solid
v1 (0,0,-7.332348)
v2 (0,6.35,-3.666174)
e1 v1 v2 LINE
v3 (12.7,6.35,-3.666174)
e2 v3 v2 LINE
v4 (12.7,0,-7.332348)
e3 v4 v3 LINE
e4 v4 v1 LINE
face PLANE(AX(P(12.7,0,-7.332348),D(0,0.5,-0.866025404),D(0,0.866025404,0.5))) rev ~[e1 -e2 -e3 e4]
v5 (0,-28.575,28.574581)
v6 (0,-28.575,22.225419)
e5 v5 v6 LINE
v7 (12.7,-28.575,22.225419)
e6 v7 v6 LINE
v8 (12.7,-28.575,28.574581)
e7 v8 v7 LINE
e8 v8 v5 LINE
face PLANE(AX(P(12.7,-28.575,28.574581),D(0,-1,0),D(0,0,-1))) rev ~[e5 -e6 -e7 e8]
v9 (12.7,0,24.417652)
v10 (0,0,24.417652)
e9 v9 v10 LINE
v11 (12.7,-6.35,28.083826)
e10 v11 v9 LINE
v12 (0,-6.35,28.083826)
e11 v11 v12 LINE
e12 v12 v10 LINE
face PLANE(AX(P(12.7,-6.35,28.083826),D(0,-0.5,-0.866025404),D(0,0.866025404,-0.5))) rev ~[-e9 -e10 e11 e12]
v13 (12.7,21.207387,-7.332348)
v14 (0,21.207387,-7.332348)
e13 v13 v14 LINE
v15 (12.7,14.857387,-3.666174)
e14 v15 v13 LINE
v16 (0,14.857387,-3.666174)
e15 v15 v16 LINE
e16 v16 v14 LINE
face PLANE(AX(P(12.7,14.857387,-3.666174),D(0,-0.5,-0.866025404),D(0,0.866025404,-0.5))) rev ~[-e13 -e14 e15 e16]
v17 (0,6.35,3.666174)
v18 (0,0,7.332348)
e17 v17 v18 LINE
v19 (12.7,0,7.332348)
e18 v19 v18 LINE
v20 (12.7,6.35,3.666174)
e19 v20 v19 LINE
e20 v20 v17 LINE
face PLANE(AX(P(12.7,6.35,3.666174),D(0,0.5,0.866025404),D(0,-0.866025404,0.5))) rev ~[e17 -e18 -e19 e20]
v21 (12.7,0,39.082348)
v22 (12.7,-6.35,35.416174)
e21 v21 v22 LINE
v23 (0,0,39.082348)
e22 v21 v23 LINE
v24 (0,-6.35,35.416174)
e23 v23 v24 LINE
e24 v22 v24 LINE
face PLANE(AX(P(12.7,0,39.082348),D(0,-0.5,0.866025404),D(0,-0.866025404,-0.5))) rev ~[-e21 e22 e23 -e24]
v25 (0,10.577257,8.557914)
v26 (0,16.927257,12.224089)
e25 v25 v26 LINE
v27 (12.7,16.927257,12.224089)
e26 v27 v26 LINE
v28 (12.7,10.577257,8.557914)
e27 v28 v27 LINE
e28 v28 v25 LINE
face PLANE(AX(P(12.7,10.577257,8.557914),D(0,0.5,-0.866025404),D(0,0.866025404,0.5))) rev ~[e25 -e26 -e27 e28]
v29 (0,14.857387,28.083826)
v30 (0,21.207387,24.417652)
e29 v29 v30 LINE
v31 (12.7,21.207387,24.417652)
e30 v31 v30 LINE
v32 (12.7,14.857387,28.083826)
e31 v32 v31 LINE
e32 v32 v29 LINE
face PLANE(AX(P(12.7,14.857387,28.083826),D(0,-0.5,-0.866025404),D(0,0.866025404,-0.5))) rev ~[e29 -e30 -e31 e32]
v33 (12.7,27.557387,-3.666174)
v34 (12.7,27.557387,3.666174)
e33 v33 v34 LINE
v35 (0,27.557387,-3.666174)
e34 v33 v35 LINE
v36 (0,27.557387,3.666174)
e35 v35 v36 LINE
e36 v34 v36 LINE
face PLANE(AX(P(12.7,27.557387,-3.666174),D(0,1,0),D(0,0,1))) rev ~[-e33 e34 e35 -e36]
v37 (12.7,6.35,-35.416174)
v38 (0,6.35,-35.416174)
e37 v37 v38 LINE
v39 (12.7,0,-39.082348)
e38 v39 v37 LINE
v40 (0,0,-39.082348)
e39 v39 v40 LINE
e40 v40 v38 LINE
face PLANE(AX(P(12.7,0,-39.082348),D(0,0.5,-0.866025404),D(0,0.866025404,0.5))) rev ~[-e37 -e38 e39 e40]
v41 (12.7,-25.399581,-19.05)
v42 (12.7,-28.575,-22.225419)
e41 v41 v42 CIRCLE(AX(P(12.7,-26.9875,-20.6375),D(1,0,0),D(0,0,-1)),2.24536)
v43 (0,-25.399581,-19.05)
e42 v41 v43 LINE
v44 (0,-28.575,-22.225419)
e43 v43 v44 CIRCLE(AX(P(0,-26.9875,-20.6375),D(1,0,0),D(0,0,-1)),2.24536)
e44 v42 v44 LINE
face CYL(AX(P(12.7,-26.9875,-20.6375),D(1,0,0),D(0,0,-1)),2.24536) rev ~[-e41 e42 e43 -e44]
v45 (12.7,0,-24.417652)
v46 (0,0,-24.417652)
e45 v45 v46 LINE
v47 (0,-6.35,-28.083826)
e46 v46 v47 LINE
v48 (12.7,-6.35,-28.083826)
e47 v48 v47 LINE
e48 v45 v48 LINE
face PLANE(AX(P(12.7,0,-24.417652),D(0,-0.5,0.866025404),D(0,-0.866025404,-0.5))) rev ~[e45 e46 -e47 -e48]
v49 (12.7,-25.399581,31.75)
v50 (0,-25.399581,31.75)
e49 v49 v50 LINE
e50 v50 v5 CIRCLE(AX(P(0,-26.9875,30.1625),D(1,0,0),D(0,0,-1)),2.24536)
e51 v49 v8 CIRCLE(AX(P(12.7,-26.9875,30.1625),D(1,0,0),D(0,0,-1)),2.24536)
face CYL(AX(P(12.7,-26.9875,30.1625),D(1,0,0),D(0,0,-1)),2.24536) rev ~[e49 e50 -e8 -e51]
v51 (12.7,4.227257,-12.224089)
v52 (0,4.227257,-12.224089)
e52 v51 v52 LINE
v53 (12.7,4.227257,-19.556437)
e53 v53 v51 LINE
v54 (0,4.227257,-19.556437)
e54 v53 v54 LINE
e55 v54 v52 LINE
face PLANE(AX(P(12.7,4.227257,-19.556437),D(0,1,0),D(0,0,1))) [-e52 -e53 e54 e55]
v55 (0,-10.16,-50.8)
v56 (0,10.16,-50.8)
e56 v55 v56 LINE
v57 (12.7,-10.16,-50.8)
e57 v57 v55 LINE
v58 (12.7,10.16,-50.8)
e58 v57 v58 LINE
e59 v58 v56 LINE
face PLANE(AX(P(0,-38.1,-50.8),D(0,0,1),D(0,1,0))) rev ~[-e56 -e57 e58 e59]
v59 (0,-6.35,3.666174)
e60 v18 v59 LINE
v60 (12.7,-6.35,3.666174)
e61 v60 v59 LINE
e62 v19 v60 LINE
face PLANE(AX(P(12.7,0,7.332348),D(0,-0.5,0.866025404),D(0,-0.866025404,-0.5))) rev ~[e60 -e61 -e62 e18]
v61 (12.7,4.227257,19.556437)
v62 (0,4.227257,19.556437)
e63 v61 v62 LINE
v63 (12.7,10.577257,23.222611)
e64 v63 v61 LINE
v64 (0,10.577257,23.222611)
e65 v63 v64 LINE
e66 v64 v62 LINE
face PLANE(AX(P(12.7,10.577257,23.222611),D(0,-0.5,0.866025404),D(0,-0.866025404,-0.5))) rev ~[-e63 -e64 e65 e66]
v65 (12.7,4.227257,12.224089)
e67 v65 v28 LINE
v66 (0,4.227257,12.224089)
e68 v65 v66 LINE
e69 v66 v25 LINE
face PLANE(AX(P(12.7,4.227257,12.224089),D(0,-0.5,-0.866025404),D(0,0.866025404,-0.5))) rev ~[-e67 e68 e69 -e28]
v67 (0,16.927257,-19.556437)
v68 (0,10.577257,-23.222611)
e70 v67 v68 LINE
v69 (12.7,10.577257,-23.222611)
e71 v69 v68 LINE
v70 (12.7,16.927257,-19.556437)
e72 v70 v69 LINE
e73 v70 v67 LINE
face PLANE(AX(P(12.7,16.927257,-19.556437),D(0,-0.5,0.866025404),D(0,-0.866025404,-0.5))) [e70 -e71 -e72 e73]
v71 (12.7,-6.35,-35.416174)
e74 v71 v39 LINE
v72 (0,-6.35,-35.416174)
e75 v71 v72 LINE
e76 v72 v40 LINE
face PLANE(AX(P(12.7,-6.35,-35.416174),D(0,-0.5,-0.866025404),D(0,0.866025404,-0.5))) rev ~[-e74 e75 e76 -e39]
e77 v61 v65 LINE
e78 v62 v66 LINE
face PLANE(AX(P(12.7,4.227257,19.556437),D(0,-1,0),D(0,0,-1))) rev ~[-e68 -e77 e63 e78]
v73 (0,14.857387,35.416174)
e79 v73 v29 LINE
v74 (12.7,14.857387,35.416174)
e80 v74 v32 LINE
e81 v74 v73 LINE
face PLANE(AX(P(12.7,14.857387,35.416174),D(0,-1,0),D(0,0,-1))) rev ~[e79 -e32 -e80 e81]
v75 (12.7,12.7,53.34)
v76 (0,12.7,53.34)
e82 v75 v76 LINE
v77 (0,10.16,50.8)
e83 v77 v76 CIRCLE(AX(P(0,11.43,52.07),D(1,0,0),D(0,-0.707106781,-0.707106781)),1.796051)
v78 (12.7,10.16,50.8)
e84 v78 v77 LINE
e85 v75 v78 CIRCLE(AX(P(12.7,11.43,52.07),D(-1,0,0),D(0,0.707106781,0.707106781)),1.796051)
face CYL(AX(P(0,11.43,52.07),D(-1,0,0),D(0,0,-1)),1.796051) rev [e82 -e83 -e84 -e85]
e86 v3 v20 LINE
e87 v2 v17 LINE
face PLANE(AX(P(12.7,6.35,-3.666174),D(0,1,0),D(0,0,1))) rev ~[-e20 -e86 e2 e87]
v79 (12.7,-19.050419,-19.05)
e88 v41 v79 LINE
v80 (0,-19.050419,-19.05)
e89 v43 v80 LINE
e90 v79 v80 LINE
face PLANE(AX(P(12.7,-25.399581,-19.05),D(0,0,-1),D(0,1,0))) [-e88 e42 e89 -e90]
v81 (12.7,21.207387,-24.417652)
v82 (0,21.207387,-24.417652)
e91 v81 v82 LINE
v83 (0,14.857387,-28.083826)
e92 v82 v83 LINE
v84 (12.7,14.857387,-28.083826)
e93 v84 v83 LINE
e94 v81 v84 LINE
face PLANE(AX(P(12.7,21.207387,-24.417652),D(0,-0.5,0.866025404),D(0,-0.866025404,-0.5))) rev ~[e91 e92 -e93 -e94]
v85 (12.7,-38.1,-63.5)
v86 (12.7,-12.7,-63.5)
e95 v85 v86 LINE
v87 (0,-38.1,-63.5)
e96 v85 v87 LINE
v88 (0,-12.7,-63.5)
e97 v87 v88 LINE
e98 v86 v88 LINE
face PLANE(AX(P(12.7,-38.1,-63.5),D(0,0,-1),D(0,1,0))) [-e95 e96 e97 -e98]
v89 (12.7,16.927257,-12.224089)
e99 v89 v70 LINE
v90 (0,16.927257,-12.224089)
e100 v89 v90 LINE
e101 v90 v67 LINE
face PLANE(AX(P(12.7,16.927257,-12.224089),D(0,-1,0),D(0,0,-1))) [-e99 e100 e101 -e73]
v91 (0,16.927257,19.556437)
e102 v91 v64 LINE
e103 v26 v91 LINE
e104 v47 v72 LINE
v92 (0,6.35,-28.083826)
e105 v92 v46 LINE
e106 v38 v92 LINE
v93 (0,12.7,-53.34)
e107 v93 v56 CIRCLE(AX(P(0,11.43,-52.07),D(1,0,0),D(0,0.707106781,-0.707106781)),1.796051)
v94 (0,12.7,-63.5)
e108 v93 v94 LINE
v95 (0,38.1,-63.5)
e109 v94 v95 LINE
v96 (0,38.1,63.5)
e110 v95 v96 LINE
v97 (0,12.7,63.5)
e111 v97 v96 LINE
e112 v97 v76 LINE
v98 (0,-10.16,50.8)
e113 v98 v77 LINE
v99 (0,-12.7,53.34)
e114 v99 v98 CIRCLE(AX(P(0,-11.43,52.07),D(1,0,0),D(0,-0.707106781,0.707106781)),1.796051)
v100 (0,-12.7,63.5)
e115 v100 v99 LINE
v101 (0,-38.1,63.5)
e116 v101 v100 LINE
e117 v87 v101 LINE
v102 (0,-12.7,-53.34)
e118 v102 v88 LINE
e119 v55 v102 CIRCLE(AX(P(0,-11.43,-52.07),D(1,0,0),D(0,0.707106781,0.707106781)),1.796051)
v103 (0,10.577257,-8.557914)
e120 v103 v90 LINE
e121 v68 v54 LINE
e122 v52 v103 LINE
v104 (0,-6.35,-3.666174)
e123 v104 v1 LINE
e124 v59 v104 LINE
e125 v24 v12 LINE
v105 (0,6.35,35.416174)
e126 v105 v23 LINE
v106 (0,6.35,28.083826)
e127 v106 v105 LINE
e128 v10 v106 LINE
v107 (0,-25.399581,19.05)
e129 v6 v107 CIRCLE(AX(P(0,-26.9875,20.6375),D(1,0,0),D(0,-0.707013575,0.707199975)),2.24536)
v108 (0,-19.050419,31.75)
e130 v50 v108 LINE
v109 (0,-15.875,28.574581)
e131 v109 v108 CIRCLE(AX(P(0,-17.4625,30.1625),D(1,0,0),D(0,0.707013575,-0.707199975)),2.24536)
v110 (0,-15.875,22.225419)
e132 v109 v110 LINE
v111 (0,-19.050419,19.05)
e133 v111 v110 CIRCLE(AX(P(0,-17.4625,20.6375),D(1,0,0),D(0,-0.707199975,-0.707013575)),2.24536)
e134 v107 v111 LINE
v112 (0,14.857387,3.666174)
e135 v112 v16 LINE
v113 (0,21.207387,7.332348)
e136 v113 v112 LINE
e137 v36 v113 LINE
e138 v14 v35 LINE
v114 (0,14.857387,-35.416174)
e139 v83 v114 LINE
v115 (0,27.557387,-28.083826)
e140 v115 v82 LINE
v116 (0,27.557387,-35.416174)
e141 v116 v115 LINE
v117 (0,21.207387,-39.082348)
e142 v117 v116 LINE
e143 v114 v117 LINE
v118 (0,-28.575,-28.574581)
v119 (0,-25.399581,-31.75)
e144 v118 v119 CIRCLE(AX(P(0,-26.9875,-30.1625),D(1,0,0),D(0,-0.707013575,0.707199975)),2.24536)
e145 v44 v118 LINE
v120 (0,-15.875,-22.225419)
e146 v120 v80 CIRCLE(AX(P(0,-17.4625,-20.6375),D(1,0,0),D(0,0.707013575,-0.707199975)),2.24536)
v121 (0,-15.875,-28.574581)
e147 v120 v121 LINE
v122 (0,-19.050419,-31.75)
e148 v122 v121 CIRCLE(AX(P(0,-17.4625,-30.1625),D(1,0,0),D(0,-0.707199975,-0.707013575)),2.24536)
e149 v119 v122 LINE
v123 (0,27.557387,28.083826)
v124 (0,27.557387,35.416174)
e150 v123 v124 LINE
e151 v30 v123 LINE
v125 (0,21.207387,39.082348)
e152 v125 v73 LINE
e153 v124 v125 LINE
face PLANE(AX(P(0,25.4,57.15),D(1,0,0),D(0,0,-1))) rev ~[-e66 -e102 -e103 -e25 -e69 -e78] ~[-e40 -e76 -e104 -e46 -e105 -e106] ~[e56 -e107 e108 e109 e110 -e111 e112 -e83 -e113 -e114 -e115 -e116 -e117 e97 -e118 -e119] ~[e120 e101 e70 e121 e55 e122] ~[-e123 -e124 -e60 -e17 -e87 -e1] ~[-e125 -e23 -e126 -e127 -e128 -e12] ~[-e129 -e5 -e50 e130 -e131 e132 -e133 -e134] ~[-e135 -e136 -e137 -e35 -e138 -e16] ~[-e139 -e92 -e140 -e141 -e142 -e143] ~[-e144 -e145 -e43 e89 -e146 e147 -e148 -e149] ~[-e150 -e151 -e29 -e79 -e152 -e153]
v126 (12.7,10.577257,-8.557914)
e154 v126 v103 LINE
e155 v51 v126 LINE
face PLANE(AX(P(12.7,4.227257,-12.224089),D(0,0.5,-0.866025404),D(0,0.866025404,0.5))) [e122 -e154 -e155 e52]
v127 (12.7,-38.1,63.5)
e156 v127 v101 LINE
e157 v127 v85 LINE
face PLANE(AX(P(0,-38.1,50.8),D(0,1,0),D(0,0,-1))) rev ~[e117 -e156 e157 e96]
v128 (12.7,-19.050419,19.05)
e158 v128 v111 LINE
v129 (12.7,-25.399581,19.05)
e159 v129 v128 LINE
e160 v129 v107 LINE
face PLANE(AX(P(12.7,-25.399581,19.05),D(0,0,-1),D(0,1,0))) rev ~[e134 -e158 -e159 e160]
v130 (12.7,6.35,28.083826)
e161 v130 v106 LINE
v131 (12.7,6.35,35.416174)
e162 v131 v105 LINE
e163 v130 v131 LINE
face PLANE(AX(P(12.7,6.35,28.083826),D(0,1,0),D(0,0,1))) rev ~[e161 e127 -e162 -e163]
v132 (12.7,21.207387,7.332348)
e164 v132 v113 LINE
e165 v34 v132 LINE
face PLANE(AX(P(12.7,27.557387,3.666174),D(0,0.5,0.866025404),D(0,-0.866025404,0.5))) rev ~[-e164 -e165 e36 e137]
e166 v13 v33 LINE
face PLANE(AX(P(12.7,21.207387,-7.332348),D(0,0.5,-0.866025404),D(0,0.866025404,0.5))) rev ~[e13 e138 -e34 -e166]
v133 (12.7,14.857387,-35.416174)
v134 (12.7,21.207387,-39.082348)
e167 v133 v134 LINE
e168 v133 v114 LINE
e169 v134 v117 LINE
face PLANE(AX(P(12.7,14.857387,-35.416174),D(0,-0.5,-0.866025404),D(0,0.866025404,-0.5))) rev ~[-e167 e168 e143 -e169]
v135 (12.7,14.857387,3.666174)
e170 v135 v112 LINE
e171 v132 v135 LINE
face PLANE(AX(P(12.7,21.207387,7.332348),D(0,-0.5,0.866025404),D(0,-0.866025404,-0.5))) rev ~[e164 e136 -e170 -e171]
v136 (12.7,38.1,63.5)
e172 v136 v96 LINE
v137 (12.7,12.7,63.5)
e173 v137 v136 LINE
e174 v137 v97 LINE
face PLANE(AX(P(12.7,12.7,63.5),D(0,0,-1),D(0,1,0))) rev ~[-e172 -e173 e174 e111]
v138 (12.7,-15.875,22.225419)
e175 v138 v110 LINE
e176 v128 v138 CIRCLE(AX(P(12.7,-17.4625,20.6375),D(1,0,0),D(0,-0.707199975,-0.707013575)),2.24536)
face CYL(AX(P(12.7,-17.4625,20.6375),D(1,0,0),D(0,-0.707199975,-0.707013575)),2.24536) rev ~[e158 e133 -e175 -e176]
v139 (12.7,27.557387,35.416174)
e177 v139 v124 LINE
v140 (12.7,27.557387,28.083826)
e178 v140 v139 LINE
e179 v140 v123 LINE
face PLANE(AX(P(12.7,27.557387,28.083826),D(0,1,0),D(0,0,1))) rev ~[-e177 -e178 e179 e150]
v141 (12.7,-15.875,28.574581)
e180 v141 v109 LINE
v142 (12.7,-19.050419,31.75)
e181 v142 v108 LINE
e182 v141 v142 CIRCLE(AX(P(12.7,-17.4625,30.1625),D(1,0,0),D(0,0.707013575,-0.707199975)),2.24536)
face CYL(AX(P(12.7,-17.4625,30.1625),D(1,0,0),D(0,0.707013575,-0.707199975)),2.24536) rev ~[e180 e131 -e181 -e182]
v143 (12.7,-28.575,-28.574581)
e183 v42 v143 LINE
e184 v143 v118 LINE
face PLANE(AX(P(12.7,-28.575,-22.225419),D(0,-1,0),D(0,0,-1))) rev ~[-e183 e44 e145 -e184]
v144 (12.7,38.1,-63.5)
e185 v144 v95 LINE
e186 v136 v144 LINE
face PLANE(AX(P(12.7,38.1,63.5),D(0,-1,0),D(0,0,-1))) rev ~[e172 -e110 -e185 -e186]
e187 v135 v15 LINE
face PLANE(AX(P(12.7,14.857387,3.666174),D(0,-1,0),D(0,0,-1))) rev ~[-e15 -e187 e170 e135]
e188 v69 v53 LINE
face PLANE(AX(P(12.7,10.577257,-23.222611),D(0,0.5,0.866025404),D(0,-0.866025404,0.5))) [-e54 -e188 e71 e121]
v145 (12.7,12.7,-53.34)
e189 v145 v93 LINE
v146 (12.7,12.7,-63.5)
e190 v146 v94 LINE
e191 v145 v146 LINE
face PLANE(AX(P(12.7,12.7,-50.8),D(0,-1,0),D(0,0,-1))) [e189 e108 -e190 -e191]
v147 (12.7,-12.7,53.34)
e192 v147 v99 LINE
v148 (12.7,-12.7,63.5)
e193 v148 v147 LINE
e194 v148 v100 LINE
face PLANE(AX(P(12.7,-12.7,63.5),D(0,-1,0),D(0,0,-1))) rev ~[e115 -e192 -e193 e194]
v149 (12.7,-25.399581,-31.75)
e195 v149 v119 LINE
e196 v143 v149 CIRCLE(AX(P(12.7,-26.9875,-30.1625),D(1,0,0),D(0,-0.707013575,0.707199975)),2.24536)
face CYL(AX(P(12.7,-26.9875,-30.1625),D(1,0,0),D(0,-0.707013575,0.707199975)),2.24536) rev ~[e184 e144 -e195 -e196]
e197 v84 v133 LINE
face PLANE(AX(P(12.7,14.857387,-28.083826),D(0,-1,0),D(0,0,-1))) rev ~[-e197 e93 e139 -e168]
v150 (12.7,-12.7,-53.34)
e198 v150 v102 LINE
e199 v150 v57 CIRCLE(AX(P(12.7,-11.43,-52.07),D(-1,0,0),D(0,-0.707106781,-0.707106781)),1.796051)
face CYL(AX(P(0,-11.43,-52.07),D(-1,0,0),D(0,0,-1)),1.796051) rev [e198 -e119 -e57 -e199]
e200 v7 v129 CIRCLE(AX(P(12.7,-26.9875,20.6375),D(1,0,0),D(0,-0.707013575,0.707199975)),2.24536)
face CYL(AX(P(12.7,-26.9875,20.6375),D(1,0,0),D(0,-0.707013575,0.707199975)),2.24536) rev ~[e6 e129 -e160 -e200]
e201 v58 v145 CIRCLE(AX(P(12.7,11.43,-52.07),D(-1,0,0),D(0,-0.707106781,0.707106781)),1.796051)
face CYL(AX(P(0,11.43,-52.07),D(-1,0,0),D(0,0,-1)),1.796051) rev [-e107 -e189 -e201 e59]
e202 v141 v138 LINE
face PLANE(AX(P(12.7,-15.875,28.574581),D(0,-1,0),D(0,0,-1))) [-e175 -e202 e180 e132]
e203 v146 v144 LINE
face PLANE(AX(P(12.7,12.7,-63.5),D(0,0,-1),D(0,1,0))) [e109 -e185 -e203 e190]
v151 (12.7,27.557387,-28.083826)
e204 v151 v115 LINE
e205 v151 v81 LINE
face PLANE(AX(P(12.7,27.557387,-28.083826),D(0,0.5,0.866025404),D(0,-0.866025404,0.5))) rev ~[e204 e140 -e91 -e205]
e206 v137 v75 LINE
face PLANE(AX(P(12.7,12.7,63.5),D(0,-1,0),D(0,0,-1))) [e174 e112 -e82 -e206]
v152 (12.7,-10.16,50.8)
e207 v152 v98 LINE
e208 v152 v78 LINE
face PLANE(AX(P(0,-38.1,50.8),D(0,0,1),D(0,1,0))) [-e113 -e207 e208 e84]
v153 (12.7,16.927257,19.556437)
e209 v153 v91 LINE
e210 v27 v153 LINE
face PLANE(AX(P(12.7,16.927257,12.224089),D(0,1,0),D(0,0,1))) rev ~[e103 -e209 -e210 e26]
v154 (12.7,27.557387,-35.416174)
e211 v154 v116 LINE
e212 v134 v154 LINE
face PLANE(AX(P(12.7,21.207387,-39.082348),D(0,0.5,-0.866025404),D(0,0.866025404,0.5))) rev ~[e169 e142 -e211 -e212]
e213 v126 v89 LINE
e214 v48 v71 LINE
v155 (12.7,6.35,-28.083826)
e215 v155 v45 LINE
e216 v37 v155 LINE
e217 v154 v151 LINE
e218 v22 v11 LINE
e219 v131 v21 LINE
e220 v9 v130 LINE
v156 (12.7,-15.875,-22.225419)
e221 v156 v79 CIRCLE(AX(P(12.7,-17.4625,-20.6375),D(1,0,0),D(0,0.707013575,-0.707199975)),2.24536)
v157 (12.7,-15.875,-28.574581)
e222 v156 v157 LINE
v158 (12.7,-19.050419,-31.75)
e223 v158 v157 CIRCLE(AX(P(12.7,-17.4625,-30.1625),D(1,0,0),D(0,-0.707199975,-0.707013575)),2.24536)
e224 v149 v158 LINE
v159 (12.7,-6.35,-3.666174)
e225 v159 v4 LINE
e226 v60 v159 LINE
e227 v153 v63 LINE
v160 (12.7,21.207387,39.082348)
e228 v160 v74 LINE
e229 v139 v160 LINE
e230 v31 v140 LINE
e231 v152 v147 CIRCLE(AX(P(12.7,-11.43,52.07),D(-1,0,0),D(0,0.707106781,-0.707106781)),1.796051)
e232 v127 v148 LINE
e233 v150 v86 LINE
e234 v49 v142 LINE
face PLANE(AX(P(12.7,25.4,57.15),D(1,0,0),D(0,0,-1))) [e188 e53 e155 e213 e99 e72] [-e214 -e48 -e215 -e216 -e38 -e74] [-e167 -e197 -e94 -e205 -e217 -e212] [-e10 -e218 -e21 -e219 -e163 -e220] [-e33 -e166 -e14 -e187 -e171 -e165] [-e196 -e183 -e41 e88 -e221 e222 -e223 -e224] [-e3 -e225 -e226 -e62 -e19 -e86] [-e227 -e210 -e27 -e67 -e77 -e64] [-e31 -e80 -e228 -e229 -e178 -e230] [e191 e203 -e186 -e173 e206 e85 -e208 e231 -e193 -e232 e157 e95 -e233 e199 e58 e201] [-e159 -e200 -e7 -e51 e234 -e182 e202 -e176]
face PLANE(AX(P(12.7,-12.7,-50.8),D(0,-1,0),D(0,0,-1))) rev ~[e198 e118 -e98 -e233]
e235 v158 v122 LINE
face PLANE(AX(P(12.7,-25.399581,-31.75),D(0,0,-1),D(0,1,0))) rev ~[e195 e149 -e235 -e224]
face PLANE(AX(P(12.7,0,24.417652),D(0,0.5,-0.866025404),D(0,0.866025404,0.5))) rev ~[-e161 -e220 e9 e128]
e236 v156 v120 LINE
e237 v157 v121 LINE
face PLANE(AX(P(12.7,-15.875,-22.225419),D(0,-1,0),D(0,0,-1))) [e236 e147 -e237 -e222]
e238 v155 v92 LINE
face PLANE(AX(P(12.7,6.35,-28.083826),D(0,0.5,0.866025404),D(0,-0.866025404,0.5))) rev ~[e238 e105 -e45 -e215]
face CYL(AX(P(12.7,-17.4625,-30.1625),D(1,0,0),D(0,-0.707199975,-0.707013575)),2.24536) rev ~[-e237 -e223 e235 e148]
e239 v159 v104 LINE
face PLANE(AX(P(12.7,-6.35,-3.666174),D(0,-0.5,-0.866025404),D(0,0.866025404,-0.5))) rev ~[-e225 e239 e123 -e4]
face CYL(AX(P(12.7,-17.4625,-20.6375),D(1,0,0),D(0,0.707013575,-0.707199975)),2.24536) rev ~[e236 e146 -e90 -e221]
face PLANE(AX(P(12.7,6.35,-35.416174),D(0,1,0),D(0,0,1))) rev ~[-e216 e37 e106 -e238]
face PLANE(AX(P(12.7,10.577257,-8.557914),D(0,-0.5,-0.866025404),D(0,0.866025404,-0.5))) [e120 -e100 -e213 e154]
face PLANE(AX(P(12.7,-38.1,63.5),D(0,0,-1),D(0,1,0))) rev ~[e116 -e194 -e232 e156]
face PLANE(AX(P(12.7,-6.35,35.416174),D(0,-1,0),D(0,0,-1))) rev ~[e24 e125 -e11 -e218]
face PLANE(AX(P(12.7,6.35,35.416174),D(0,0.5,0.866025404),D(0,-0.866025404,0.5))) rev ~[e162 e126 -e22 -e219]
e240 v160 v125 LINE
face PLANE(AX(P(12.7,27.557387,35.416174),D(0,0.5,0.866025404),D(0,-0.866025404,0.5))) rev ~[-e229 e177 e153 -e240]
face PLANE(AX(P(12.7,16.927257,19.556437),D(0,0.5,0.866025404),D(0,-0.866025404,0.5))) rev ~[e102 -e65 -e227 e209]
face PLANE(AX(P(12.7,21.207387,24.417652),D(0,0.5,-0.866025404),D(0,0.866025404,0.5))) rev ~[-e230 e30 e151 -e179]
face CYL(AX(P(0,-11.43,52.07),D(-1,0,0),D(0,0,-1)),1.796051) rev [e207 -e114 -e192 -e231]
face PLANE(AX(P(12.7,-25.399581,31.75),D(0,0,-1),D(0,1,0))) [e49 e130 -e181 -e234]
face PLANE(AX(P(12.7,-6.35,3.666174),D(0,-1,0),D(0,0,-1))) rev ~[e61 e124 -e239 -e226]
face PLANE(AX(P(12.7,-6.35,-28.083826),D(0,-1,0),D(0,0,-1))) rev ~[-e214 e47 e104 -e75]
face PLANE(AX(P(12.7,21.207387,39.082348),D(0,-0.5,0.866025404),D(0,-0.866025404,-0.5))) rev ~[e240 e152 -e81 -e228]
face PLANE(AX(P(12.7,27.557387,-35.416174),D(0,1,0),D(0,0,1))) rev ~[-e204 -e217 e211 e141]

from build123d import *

# Parameters (mm, degrees)
SKETCH3_W                 = 101.6
SKETCH3_H                 = 76.2
SQUARE_EXTRUSION_DEPTH    = 12.7
SKETCH4_R                 = 2.24536
SKETCH4_W                 = 12.7
SKETCH4_H                 = 12.7
SLOTTING_HOLES_DEPTH      = 12.7
HONEYCOMB_POCKETING_DEPTH = 12.7
SKETCH14_W                = 12.7
SKETCH14_H                = 25.4
TAB_EXTRUSION_DEPTH       = 12.7
CUT_EXTRUDE2_START        = -12.7
SKETCH15_R                = 1.796051224
CUT_EXTRUDE2_DEPTH        = 12.7


with BuildPart() as part:
    # Sketch3 → Square Extrusion (new body)
    with BuildSketch(Plane(origin=(0, 0, 0), x_dir=(0, 0, -1), z_dir=(1, 0, 0))):
        Rectangle(SKETCH3_W, SKETCH3_H)
    extrude(amount=SQUARE_EXTRUSION_DEPTH)

    # Sketch4 → Slotting Holes (cut)
    with BuildSketch(Plane(origin=(12.7, 0, 0), x_dir=(0, 0, -1), z_dir=(1, 0, 0))):
        with BuildLine():
            ThreePointArc((-28.574581463, -15.875), (-31.750209282, -15.874790718), (-31.75, -19.050418537))
            Line((-31.75, -19.050418537), (-31.75, -15.875))
            Line((-31.75, -15.875), (-28.574581463, -15.875))
        make_face()
        with BuildLine():
            Line((-31.75, -15.875), (-31.75, -19.050418537))
            ThreePointArc((-31.75, -19.050418537), (-29.303101219, -19.536885515), (-27.91714, -17.4625))
            ThreePointArc((-27.91714, -17.4625), (-28.08800123, -16.603374641), (-28.574581463, -15.875))
            Line((-28.574581463, -15.875), (-31.75, -15.875))
        make_face()
        with Locations((-30.1625, -26.9875)):
            Circle(SKETCH4_R)
        with Locations((-20.6375, -26.9875)):
            Circle(SKETCH4_R)
        with Locations((-20.6375, -17.4625)):
            Circle(SKETCH4_R)
        with Locations((-30.1625, -17.4625)):
            Circle(SKETCH4_R)
        with Locations((-25.4, -22.225)):
            Rectangle(SKETCH4_W, SKETCH4_H)
        with BuildLine():
            ThreePointArc((-22.225418537, -15.875), (-22.225209282, -19.050209282), (-19.05, -19.050418537))
            Line((-19.05, -19.050418537), (-19.05, -15.875))
            Line((-19.05, -15.875), (-22.225418537, -15.875))
        make_face()
        with BuildLine():
            Line((-19.05, -15.875), (-19.05, -19.050418537))
            ThreePointArc((-19.05, -19.050418537), (-18.563114485, -18.321898781), (-18.39214, -17.4625))
            ThreePointArc((-18.39214, -17.4625), (-19.778374641, -15.38800123), (-22.225418537, -15.875))
            Line((-22.225418537, -15.875), (-19.05, -15.875))
        make_face()
        with BuildLine():
            Line((-31.75, -25.399581463), (-31.75, -28.575))
            Line((-31.75, -28.575), (-28.574581463, -28.575))
            ThreePointArc((-28.574581463, -28.575), (-28.08800123, -27.846625359), (-27.91714, -26.9875))
            ThreePointArc((-27.91714, -26.9875), (-29.303101219, -24.913114485), (-31.75, -25.399581463))
        make_face()
        with BuildLine():
            Line((-28.574581463, -28.575), (-31.75, -28.575))
            Line((-31.75, -28.575), (-31.75, -25.399581463))
            ThreePointArc((-31.75, -25.399581463), (-31.750209282, -28.575209282), (-28.574581463, -28.575))
        make_face()
        with BuildLine():
            ThreePointArc((-19.05, -25.399581463), (-22.225209282, -25.399790718), (-22.225418537, -28.575))
            Line((-22.225418537, -28.575), (-19.05, -28.575))
            Line((-19.05, -28.575), (-19.05, -25.399581463))
        make_face()
        with BuildLine():
            Line((-19.05, -28.575), (-22.225418537, -28.575))
            ThreePointArc((-22.225418537, -28.575), (-19.778374641, -29.06199877), (-18.39214, -26.9875))
            ThreePointArc((-18.39214, -26.9875), (-18.563114485, -26.128101219), (-19.05, -25.399581463))
            Line((-19.05, -25.399581463), (-19.05, -28.575))
        make_face()
        with BuildLine():
            ThreePointArc((22.88286, -17.4625), (22.71199877, -16.603374641), (22.225418537, -15.875))
            Line((22.225418537, -15.875), (19.05, -15.875))
            Line((19.05, -15.875), (19.05, -19.050418537))
            ThreePointArc((19.05, -19.050418537), (21.496898781, -19.536885515), (22.88286, -17.4625))
        make_face()
        with BuildLine():
            Line((19.05, -15.875), (22.225418537, -15.875))
            ThreePointArc((22.225418537, -15.875), (19.049790718, -15.874790718), (19.05, -19.050418537))
            Line((19.05, -19.050418537), (19.05, -15.875))
        make_face()
        with Locations((30.1625, -17.4625)):
            Circle(SKETCH4_R)
        with Locations((20.6375, -17.4625)):
            Circle(SKETCH4_R)
        with Locations((20.6375, -26.9875)):
            Circle(SKETCH4_R)
        with Locations((30.1625, -26.9875)):
            Circle(SKETCH4_R)
        with Locations((25.4, -22.225)):
            Rectangle(SKETCH4_W, SKETCH4_H)
        with BuildLine():
            Line((31.75, -19.050418537), (31.75, -15.875))
            Line((31.75, -15.875), (28.574581463, -15.875))
            ThreePointArc((28.574581463, -15.875), (28.574790718, -19.050209282), (31.75, -19.050418537))
        make_face()
        with BuildLine():
            Line((28.574581463, -15.875), (31.75, -15.875))
            Line((31.75, -15.875), (31.75, -19.050418537))
            ThreePointArc((31.75, -19.050418537), (32.236885515, -18.321898781), (32.40786, -17.4625))
            ThreePointArc((32.40786, -17.4625), (31.021625359, -15.38800123), (28.574581463, -15.875))
        make_face()
        with BuildLine():
            ThreePointArc((32.40786, -26.9875), (32.236885515, -26.128101219), (31.75, -25.399581463))
            Line((31.75, -25.399581463), (31.75, -28.575))
            Line((31.75, -28.575), (28.574581463, -28.575))
            ThreePointArc((28.574581463, -28.575), (31.021625359, -29.06199877), (32.40786, -26.9875))
        make_face()
        with BuildLine():
            Line((31.75, -28.575), (31.75, -25.399581463))
            ThreePointArc((31.75, -25.399581463), (28.574790718, -25.399790718), (28.574581463, -28.575))
            Line((28.574581463, -28.575), (31.75, -28.575))
        make_face()
        with BuildLine():
            ThreePointArc((22.88286, -26.9875), (21.496898781, -24.913114485), (19.05, -25.399581463))
            Line((19.05, -25.399581463), (19.05, -28.575))
            Line((19.05, -28.575), (22.225418537, -28.575))
            ThreePointArc((22.225418537, -28.575), (22.71199877, -27.846625359), (22.88286, -26.9875))
        make_face()
        with BuildLine():
            Line((19.05, -28.575), (19.05, -25.399581463))
            ThreePointArc((19.05, -25.399581463), (19.049790718, -28.575209282), (22.225418537, -28.575))
            Line((22.225418537, -28.575), (19.05, -28.575))
        make_face()
    extrude(amount=-SLOTTING_HOLES_DEPTH, mode=Mode.SUBTRACT)

    # Sketch9 → Honeycomb Pocketing (cut)
    with BuildSketch(Plane(origin=(12.7, 0, 0), x_dir=(0, 0, -1), z_dir=(1, 0, 0))):
        Polygon((-35.416174209, 14.85738686), (-28.083825791, 14.85738686), (-24.417651581, 21.20738686), (-28.083825791, 27.55738686), (-35.416174209, 27.55738686), (-39.082348419, 21.20738686), align=None)
        Polygon((-3.666174209, -6.35), (3.666174209, -6.35), (7.332348419, 0), (3.666174209, 6.35), (-3.666174209, 6.35), (-7.332348419, 0), align=None)
        Polygon((-35.416174209, -6.35), (-28.083825791, -6.35), (-24.417651581, 0), (-28.083825791, 6.35), (-35.416174209, 6.35), (-39.082348419, 0), align=None)
        Polygon((28.083825791, -6.35), (35.416174209, -6.35), (39.082348419, 0), (35.416174209, 6.35), (28.083825791, 6.35), (24.417651581, 0), align=None)
        Polygon((-3.666174209, 14.85738686), (3.666174209, 14.85738686), (7.332348419, 21.20738686), (3.666174209, 27.55738686), (-3.666174209, 27.55738686), (-7.332348419, 21.20738686), align=None)
        Polygon((28.083825791, 14.85738686), (35.416174209, 14.85738686), (39.082348419, 21.20738686), (35.416174209, 27.55738686), (28.083825791, 27.55738686), (24.417651581, 21.20738686), align=None)
        Polygon((19.556437025, 4.227257458), (12.224088606, 4.227257458), (8.557914397, 10.577257458), (12.224088606, 16.927257458), (19.556437025, 16.927257458), (23.222611234, 10.577257458), align=None)
        Polygon((-12.224088606, 4.227257458), (-8.557914397, 10.577257458), (-12.224088606, 16.927257458), (-19.556437025, 16.927257458), (-23.222611234, 10.577257458), (-19.556437025, 4.227257458), align=None)
    extrude(amount=-HONEYCOMB_POCKETING_DEPTH, mode=Mode.SUBTRACT)

    # Sketch14 → Tab Extrusion (add)
    with BuildSketch(Plane(origin=(12.7, 0, 0), x_dir=(0, 0, -1), z_dir=(1, 0, 0))):
        with Locations((-57.15, 25.4)):
            Rectangle(SKETCH14_W, SKETCH14_H)
        with Locations((-57.15, -25.4)):
            Rectangle(SKETCH14_W, SKETCH14_H)
        with Locations((57.15, -25.4)):
            Rectangle(SKETCH14_W, SKETCH14_H)
        with Locations((57.15, 25.4)):
            Rectangle(SKETCH14_W, SKETCH14_H)
    extrude(amount=-TAB_EXTRUSION_DEPTH)

    # Sketch15 → Cut-Extrude2 (cut)
    with BuildSketch(Plane(origin=(12.7, 0, 0), x_dir=(0, 0, -1), z_dir=(1, 0, 0)).offset(CUT_EXTRUDE2_START)):
        with Locations((-52.07, 11.43)):
            Circle(SKETCH15_R)
        with Locations((-52.07, -11.43)):
            Circle(SKETCH15_R)
        with Locations((52.07, -11.43)):
            Circle(SKETCH15_R)
        with Locations((52.07, 11.43)):
            Circle(SKETCH15_R)
    extrude(amount=CUT_EXTRUDE2_DEPTH, mode=Mode.SUBTRACT)


solid = part.part
